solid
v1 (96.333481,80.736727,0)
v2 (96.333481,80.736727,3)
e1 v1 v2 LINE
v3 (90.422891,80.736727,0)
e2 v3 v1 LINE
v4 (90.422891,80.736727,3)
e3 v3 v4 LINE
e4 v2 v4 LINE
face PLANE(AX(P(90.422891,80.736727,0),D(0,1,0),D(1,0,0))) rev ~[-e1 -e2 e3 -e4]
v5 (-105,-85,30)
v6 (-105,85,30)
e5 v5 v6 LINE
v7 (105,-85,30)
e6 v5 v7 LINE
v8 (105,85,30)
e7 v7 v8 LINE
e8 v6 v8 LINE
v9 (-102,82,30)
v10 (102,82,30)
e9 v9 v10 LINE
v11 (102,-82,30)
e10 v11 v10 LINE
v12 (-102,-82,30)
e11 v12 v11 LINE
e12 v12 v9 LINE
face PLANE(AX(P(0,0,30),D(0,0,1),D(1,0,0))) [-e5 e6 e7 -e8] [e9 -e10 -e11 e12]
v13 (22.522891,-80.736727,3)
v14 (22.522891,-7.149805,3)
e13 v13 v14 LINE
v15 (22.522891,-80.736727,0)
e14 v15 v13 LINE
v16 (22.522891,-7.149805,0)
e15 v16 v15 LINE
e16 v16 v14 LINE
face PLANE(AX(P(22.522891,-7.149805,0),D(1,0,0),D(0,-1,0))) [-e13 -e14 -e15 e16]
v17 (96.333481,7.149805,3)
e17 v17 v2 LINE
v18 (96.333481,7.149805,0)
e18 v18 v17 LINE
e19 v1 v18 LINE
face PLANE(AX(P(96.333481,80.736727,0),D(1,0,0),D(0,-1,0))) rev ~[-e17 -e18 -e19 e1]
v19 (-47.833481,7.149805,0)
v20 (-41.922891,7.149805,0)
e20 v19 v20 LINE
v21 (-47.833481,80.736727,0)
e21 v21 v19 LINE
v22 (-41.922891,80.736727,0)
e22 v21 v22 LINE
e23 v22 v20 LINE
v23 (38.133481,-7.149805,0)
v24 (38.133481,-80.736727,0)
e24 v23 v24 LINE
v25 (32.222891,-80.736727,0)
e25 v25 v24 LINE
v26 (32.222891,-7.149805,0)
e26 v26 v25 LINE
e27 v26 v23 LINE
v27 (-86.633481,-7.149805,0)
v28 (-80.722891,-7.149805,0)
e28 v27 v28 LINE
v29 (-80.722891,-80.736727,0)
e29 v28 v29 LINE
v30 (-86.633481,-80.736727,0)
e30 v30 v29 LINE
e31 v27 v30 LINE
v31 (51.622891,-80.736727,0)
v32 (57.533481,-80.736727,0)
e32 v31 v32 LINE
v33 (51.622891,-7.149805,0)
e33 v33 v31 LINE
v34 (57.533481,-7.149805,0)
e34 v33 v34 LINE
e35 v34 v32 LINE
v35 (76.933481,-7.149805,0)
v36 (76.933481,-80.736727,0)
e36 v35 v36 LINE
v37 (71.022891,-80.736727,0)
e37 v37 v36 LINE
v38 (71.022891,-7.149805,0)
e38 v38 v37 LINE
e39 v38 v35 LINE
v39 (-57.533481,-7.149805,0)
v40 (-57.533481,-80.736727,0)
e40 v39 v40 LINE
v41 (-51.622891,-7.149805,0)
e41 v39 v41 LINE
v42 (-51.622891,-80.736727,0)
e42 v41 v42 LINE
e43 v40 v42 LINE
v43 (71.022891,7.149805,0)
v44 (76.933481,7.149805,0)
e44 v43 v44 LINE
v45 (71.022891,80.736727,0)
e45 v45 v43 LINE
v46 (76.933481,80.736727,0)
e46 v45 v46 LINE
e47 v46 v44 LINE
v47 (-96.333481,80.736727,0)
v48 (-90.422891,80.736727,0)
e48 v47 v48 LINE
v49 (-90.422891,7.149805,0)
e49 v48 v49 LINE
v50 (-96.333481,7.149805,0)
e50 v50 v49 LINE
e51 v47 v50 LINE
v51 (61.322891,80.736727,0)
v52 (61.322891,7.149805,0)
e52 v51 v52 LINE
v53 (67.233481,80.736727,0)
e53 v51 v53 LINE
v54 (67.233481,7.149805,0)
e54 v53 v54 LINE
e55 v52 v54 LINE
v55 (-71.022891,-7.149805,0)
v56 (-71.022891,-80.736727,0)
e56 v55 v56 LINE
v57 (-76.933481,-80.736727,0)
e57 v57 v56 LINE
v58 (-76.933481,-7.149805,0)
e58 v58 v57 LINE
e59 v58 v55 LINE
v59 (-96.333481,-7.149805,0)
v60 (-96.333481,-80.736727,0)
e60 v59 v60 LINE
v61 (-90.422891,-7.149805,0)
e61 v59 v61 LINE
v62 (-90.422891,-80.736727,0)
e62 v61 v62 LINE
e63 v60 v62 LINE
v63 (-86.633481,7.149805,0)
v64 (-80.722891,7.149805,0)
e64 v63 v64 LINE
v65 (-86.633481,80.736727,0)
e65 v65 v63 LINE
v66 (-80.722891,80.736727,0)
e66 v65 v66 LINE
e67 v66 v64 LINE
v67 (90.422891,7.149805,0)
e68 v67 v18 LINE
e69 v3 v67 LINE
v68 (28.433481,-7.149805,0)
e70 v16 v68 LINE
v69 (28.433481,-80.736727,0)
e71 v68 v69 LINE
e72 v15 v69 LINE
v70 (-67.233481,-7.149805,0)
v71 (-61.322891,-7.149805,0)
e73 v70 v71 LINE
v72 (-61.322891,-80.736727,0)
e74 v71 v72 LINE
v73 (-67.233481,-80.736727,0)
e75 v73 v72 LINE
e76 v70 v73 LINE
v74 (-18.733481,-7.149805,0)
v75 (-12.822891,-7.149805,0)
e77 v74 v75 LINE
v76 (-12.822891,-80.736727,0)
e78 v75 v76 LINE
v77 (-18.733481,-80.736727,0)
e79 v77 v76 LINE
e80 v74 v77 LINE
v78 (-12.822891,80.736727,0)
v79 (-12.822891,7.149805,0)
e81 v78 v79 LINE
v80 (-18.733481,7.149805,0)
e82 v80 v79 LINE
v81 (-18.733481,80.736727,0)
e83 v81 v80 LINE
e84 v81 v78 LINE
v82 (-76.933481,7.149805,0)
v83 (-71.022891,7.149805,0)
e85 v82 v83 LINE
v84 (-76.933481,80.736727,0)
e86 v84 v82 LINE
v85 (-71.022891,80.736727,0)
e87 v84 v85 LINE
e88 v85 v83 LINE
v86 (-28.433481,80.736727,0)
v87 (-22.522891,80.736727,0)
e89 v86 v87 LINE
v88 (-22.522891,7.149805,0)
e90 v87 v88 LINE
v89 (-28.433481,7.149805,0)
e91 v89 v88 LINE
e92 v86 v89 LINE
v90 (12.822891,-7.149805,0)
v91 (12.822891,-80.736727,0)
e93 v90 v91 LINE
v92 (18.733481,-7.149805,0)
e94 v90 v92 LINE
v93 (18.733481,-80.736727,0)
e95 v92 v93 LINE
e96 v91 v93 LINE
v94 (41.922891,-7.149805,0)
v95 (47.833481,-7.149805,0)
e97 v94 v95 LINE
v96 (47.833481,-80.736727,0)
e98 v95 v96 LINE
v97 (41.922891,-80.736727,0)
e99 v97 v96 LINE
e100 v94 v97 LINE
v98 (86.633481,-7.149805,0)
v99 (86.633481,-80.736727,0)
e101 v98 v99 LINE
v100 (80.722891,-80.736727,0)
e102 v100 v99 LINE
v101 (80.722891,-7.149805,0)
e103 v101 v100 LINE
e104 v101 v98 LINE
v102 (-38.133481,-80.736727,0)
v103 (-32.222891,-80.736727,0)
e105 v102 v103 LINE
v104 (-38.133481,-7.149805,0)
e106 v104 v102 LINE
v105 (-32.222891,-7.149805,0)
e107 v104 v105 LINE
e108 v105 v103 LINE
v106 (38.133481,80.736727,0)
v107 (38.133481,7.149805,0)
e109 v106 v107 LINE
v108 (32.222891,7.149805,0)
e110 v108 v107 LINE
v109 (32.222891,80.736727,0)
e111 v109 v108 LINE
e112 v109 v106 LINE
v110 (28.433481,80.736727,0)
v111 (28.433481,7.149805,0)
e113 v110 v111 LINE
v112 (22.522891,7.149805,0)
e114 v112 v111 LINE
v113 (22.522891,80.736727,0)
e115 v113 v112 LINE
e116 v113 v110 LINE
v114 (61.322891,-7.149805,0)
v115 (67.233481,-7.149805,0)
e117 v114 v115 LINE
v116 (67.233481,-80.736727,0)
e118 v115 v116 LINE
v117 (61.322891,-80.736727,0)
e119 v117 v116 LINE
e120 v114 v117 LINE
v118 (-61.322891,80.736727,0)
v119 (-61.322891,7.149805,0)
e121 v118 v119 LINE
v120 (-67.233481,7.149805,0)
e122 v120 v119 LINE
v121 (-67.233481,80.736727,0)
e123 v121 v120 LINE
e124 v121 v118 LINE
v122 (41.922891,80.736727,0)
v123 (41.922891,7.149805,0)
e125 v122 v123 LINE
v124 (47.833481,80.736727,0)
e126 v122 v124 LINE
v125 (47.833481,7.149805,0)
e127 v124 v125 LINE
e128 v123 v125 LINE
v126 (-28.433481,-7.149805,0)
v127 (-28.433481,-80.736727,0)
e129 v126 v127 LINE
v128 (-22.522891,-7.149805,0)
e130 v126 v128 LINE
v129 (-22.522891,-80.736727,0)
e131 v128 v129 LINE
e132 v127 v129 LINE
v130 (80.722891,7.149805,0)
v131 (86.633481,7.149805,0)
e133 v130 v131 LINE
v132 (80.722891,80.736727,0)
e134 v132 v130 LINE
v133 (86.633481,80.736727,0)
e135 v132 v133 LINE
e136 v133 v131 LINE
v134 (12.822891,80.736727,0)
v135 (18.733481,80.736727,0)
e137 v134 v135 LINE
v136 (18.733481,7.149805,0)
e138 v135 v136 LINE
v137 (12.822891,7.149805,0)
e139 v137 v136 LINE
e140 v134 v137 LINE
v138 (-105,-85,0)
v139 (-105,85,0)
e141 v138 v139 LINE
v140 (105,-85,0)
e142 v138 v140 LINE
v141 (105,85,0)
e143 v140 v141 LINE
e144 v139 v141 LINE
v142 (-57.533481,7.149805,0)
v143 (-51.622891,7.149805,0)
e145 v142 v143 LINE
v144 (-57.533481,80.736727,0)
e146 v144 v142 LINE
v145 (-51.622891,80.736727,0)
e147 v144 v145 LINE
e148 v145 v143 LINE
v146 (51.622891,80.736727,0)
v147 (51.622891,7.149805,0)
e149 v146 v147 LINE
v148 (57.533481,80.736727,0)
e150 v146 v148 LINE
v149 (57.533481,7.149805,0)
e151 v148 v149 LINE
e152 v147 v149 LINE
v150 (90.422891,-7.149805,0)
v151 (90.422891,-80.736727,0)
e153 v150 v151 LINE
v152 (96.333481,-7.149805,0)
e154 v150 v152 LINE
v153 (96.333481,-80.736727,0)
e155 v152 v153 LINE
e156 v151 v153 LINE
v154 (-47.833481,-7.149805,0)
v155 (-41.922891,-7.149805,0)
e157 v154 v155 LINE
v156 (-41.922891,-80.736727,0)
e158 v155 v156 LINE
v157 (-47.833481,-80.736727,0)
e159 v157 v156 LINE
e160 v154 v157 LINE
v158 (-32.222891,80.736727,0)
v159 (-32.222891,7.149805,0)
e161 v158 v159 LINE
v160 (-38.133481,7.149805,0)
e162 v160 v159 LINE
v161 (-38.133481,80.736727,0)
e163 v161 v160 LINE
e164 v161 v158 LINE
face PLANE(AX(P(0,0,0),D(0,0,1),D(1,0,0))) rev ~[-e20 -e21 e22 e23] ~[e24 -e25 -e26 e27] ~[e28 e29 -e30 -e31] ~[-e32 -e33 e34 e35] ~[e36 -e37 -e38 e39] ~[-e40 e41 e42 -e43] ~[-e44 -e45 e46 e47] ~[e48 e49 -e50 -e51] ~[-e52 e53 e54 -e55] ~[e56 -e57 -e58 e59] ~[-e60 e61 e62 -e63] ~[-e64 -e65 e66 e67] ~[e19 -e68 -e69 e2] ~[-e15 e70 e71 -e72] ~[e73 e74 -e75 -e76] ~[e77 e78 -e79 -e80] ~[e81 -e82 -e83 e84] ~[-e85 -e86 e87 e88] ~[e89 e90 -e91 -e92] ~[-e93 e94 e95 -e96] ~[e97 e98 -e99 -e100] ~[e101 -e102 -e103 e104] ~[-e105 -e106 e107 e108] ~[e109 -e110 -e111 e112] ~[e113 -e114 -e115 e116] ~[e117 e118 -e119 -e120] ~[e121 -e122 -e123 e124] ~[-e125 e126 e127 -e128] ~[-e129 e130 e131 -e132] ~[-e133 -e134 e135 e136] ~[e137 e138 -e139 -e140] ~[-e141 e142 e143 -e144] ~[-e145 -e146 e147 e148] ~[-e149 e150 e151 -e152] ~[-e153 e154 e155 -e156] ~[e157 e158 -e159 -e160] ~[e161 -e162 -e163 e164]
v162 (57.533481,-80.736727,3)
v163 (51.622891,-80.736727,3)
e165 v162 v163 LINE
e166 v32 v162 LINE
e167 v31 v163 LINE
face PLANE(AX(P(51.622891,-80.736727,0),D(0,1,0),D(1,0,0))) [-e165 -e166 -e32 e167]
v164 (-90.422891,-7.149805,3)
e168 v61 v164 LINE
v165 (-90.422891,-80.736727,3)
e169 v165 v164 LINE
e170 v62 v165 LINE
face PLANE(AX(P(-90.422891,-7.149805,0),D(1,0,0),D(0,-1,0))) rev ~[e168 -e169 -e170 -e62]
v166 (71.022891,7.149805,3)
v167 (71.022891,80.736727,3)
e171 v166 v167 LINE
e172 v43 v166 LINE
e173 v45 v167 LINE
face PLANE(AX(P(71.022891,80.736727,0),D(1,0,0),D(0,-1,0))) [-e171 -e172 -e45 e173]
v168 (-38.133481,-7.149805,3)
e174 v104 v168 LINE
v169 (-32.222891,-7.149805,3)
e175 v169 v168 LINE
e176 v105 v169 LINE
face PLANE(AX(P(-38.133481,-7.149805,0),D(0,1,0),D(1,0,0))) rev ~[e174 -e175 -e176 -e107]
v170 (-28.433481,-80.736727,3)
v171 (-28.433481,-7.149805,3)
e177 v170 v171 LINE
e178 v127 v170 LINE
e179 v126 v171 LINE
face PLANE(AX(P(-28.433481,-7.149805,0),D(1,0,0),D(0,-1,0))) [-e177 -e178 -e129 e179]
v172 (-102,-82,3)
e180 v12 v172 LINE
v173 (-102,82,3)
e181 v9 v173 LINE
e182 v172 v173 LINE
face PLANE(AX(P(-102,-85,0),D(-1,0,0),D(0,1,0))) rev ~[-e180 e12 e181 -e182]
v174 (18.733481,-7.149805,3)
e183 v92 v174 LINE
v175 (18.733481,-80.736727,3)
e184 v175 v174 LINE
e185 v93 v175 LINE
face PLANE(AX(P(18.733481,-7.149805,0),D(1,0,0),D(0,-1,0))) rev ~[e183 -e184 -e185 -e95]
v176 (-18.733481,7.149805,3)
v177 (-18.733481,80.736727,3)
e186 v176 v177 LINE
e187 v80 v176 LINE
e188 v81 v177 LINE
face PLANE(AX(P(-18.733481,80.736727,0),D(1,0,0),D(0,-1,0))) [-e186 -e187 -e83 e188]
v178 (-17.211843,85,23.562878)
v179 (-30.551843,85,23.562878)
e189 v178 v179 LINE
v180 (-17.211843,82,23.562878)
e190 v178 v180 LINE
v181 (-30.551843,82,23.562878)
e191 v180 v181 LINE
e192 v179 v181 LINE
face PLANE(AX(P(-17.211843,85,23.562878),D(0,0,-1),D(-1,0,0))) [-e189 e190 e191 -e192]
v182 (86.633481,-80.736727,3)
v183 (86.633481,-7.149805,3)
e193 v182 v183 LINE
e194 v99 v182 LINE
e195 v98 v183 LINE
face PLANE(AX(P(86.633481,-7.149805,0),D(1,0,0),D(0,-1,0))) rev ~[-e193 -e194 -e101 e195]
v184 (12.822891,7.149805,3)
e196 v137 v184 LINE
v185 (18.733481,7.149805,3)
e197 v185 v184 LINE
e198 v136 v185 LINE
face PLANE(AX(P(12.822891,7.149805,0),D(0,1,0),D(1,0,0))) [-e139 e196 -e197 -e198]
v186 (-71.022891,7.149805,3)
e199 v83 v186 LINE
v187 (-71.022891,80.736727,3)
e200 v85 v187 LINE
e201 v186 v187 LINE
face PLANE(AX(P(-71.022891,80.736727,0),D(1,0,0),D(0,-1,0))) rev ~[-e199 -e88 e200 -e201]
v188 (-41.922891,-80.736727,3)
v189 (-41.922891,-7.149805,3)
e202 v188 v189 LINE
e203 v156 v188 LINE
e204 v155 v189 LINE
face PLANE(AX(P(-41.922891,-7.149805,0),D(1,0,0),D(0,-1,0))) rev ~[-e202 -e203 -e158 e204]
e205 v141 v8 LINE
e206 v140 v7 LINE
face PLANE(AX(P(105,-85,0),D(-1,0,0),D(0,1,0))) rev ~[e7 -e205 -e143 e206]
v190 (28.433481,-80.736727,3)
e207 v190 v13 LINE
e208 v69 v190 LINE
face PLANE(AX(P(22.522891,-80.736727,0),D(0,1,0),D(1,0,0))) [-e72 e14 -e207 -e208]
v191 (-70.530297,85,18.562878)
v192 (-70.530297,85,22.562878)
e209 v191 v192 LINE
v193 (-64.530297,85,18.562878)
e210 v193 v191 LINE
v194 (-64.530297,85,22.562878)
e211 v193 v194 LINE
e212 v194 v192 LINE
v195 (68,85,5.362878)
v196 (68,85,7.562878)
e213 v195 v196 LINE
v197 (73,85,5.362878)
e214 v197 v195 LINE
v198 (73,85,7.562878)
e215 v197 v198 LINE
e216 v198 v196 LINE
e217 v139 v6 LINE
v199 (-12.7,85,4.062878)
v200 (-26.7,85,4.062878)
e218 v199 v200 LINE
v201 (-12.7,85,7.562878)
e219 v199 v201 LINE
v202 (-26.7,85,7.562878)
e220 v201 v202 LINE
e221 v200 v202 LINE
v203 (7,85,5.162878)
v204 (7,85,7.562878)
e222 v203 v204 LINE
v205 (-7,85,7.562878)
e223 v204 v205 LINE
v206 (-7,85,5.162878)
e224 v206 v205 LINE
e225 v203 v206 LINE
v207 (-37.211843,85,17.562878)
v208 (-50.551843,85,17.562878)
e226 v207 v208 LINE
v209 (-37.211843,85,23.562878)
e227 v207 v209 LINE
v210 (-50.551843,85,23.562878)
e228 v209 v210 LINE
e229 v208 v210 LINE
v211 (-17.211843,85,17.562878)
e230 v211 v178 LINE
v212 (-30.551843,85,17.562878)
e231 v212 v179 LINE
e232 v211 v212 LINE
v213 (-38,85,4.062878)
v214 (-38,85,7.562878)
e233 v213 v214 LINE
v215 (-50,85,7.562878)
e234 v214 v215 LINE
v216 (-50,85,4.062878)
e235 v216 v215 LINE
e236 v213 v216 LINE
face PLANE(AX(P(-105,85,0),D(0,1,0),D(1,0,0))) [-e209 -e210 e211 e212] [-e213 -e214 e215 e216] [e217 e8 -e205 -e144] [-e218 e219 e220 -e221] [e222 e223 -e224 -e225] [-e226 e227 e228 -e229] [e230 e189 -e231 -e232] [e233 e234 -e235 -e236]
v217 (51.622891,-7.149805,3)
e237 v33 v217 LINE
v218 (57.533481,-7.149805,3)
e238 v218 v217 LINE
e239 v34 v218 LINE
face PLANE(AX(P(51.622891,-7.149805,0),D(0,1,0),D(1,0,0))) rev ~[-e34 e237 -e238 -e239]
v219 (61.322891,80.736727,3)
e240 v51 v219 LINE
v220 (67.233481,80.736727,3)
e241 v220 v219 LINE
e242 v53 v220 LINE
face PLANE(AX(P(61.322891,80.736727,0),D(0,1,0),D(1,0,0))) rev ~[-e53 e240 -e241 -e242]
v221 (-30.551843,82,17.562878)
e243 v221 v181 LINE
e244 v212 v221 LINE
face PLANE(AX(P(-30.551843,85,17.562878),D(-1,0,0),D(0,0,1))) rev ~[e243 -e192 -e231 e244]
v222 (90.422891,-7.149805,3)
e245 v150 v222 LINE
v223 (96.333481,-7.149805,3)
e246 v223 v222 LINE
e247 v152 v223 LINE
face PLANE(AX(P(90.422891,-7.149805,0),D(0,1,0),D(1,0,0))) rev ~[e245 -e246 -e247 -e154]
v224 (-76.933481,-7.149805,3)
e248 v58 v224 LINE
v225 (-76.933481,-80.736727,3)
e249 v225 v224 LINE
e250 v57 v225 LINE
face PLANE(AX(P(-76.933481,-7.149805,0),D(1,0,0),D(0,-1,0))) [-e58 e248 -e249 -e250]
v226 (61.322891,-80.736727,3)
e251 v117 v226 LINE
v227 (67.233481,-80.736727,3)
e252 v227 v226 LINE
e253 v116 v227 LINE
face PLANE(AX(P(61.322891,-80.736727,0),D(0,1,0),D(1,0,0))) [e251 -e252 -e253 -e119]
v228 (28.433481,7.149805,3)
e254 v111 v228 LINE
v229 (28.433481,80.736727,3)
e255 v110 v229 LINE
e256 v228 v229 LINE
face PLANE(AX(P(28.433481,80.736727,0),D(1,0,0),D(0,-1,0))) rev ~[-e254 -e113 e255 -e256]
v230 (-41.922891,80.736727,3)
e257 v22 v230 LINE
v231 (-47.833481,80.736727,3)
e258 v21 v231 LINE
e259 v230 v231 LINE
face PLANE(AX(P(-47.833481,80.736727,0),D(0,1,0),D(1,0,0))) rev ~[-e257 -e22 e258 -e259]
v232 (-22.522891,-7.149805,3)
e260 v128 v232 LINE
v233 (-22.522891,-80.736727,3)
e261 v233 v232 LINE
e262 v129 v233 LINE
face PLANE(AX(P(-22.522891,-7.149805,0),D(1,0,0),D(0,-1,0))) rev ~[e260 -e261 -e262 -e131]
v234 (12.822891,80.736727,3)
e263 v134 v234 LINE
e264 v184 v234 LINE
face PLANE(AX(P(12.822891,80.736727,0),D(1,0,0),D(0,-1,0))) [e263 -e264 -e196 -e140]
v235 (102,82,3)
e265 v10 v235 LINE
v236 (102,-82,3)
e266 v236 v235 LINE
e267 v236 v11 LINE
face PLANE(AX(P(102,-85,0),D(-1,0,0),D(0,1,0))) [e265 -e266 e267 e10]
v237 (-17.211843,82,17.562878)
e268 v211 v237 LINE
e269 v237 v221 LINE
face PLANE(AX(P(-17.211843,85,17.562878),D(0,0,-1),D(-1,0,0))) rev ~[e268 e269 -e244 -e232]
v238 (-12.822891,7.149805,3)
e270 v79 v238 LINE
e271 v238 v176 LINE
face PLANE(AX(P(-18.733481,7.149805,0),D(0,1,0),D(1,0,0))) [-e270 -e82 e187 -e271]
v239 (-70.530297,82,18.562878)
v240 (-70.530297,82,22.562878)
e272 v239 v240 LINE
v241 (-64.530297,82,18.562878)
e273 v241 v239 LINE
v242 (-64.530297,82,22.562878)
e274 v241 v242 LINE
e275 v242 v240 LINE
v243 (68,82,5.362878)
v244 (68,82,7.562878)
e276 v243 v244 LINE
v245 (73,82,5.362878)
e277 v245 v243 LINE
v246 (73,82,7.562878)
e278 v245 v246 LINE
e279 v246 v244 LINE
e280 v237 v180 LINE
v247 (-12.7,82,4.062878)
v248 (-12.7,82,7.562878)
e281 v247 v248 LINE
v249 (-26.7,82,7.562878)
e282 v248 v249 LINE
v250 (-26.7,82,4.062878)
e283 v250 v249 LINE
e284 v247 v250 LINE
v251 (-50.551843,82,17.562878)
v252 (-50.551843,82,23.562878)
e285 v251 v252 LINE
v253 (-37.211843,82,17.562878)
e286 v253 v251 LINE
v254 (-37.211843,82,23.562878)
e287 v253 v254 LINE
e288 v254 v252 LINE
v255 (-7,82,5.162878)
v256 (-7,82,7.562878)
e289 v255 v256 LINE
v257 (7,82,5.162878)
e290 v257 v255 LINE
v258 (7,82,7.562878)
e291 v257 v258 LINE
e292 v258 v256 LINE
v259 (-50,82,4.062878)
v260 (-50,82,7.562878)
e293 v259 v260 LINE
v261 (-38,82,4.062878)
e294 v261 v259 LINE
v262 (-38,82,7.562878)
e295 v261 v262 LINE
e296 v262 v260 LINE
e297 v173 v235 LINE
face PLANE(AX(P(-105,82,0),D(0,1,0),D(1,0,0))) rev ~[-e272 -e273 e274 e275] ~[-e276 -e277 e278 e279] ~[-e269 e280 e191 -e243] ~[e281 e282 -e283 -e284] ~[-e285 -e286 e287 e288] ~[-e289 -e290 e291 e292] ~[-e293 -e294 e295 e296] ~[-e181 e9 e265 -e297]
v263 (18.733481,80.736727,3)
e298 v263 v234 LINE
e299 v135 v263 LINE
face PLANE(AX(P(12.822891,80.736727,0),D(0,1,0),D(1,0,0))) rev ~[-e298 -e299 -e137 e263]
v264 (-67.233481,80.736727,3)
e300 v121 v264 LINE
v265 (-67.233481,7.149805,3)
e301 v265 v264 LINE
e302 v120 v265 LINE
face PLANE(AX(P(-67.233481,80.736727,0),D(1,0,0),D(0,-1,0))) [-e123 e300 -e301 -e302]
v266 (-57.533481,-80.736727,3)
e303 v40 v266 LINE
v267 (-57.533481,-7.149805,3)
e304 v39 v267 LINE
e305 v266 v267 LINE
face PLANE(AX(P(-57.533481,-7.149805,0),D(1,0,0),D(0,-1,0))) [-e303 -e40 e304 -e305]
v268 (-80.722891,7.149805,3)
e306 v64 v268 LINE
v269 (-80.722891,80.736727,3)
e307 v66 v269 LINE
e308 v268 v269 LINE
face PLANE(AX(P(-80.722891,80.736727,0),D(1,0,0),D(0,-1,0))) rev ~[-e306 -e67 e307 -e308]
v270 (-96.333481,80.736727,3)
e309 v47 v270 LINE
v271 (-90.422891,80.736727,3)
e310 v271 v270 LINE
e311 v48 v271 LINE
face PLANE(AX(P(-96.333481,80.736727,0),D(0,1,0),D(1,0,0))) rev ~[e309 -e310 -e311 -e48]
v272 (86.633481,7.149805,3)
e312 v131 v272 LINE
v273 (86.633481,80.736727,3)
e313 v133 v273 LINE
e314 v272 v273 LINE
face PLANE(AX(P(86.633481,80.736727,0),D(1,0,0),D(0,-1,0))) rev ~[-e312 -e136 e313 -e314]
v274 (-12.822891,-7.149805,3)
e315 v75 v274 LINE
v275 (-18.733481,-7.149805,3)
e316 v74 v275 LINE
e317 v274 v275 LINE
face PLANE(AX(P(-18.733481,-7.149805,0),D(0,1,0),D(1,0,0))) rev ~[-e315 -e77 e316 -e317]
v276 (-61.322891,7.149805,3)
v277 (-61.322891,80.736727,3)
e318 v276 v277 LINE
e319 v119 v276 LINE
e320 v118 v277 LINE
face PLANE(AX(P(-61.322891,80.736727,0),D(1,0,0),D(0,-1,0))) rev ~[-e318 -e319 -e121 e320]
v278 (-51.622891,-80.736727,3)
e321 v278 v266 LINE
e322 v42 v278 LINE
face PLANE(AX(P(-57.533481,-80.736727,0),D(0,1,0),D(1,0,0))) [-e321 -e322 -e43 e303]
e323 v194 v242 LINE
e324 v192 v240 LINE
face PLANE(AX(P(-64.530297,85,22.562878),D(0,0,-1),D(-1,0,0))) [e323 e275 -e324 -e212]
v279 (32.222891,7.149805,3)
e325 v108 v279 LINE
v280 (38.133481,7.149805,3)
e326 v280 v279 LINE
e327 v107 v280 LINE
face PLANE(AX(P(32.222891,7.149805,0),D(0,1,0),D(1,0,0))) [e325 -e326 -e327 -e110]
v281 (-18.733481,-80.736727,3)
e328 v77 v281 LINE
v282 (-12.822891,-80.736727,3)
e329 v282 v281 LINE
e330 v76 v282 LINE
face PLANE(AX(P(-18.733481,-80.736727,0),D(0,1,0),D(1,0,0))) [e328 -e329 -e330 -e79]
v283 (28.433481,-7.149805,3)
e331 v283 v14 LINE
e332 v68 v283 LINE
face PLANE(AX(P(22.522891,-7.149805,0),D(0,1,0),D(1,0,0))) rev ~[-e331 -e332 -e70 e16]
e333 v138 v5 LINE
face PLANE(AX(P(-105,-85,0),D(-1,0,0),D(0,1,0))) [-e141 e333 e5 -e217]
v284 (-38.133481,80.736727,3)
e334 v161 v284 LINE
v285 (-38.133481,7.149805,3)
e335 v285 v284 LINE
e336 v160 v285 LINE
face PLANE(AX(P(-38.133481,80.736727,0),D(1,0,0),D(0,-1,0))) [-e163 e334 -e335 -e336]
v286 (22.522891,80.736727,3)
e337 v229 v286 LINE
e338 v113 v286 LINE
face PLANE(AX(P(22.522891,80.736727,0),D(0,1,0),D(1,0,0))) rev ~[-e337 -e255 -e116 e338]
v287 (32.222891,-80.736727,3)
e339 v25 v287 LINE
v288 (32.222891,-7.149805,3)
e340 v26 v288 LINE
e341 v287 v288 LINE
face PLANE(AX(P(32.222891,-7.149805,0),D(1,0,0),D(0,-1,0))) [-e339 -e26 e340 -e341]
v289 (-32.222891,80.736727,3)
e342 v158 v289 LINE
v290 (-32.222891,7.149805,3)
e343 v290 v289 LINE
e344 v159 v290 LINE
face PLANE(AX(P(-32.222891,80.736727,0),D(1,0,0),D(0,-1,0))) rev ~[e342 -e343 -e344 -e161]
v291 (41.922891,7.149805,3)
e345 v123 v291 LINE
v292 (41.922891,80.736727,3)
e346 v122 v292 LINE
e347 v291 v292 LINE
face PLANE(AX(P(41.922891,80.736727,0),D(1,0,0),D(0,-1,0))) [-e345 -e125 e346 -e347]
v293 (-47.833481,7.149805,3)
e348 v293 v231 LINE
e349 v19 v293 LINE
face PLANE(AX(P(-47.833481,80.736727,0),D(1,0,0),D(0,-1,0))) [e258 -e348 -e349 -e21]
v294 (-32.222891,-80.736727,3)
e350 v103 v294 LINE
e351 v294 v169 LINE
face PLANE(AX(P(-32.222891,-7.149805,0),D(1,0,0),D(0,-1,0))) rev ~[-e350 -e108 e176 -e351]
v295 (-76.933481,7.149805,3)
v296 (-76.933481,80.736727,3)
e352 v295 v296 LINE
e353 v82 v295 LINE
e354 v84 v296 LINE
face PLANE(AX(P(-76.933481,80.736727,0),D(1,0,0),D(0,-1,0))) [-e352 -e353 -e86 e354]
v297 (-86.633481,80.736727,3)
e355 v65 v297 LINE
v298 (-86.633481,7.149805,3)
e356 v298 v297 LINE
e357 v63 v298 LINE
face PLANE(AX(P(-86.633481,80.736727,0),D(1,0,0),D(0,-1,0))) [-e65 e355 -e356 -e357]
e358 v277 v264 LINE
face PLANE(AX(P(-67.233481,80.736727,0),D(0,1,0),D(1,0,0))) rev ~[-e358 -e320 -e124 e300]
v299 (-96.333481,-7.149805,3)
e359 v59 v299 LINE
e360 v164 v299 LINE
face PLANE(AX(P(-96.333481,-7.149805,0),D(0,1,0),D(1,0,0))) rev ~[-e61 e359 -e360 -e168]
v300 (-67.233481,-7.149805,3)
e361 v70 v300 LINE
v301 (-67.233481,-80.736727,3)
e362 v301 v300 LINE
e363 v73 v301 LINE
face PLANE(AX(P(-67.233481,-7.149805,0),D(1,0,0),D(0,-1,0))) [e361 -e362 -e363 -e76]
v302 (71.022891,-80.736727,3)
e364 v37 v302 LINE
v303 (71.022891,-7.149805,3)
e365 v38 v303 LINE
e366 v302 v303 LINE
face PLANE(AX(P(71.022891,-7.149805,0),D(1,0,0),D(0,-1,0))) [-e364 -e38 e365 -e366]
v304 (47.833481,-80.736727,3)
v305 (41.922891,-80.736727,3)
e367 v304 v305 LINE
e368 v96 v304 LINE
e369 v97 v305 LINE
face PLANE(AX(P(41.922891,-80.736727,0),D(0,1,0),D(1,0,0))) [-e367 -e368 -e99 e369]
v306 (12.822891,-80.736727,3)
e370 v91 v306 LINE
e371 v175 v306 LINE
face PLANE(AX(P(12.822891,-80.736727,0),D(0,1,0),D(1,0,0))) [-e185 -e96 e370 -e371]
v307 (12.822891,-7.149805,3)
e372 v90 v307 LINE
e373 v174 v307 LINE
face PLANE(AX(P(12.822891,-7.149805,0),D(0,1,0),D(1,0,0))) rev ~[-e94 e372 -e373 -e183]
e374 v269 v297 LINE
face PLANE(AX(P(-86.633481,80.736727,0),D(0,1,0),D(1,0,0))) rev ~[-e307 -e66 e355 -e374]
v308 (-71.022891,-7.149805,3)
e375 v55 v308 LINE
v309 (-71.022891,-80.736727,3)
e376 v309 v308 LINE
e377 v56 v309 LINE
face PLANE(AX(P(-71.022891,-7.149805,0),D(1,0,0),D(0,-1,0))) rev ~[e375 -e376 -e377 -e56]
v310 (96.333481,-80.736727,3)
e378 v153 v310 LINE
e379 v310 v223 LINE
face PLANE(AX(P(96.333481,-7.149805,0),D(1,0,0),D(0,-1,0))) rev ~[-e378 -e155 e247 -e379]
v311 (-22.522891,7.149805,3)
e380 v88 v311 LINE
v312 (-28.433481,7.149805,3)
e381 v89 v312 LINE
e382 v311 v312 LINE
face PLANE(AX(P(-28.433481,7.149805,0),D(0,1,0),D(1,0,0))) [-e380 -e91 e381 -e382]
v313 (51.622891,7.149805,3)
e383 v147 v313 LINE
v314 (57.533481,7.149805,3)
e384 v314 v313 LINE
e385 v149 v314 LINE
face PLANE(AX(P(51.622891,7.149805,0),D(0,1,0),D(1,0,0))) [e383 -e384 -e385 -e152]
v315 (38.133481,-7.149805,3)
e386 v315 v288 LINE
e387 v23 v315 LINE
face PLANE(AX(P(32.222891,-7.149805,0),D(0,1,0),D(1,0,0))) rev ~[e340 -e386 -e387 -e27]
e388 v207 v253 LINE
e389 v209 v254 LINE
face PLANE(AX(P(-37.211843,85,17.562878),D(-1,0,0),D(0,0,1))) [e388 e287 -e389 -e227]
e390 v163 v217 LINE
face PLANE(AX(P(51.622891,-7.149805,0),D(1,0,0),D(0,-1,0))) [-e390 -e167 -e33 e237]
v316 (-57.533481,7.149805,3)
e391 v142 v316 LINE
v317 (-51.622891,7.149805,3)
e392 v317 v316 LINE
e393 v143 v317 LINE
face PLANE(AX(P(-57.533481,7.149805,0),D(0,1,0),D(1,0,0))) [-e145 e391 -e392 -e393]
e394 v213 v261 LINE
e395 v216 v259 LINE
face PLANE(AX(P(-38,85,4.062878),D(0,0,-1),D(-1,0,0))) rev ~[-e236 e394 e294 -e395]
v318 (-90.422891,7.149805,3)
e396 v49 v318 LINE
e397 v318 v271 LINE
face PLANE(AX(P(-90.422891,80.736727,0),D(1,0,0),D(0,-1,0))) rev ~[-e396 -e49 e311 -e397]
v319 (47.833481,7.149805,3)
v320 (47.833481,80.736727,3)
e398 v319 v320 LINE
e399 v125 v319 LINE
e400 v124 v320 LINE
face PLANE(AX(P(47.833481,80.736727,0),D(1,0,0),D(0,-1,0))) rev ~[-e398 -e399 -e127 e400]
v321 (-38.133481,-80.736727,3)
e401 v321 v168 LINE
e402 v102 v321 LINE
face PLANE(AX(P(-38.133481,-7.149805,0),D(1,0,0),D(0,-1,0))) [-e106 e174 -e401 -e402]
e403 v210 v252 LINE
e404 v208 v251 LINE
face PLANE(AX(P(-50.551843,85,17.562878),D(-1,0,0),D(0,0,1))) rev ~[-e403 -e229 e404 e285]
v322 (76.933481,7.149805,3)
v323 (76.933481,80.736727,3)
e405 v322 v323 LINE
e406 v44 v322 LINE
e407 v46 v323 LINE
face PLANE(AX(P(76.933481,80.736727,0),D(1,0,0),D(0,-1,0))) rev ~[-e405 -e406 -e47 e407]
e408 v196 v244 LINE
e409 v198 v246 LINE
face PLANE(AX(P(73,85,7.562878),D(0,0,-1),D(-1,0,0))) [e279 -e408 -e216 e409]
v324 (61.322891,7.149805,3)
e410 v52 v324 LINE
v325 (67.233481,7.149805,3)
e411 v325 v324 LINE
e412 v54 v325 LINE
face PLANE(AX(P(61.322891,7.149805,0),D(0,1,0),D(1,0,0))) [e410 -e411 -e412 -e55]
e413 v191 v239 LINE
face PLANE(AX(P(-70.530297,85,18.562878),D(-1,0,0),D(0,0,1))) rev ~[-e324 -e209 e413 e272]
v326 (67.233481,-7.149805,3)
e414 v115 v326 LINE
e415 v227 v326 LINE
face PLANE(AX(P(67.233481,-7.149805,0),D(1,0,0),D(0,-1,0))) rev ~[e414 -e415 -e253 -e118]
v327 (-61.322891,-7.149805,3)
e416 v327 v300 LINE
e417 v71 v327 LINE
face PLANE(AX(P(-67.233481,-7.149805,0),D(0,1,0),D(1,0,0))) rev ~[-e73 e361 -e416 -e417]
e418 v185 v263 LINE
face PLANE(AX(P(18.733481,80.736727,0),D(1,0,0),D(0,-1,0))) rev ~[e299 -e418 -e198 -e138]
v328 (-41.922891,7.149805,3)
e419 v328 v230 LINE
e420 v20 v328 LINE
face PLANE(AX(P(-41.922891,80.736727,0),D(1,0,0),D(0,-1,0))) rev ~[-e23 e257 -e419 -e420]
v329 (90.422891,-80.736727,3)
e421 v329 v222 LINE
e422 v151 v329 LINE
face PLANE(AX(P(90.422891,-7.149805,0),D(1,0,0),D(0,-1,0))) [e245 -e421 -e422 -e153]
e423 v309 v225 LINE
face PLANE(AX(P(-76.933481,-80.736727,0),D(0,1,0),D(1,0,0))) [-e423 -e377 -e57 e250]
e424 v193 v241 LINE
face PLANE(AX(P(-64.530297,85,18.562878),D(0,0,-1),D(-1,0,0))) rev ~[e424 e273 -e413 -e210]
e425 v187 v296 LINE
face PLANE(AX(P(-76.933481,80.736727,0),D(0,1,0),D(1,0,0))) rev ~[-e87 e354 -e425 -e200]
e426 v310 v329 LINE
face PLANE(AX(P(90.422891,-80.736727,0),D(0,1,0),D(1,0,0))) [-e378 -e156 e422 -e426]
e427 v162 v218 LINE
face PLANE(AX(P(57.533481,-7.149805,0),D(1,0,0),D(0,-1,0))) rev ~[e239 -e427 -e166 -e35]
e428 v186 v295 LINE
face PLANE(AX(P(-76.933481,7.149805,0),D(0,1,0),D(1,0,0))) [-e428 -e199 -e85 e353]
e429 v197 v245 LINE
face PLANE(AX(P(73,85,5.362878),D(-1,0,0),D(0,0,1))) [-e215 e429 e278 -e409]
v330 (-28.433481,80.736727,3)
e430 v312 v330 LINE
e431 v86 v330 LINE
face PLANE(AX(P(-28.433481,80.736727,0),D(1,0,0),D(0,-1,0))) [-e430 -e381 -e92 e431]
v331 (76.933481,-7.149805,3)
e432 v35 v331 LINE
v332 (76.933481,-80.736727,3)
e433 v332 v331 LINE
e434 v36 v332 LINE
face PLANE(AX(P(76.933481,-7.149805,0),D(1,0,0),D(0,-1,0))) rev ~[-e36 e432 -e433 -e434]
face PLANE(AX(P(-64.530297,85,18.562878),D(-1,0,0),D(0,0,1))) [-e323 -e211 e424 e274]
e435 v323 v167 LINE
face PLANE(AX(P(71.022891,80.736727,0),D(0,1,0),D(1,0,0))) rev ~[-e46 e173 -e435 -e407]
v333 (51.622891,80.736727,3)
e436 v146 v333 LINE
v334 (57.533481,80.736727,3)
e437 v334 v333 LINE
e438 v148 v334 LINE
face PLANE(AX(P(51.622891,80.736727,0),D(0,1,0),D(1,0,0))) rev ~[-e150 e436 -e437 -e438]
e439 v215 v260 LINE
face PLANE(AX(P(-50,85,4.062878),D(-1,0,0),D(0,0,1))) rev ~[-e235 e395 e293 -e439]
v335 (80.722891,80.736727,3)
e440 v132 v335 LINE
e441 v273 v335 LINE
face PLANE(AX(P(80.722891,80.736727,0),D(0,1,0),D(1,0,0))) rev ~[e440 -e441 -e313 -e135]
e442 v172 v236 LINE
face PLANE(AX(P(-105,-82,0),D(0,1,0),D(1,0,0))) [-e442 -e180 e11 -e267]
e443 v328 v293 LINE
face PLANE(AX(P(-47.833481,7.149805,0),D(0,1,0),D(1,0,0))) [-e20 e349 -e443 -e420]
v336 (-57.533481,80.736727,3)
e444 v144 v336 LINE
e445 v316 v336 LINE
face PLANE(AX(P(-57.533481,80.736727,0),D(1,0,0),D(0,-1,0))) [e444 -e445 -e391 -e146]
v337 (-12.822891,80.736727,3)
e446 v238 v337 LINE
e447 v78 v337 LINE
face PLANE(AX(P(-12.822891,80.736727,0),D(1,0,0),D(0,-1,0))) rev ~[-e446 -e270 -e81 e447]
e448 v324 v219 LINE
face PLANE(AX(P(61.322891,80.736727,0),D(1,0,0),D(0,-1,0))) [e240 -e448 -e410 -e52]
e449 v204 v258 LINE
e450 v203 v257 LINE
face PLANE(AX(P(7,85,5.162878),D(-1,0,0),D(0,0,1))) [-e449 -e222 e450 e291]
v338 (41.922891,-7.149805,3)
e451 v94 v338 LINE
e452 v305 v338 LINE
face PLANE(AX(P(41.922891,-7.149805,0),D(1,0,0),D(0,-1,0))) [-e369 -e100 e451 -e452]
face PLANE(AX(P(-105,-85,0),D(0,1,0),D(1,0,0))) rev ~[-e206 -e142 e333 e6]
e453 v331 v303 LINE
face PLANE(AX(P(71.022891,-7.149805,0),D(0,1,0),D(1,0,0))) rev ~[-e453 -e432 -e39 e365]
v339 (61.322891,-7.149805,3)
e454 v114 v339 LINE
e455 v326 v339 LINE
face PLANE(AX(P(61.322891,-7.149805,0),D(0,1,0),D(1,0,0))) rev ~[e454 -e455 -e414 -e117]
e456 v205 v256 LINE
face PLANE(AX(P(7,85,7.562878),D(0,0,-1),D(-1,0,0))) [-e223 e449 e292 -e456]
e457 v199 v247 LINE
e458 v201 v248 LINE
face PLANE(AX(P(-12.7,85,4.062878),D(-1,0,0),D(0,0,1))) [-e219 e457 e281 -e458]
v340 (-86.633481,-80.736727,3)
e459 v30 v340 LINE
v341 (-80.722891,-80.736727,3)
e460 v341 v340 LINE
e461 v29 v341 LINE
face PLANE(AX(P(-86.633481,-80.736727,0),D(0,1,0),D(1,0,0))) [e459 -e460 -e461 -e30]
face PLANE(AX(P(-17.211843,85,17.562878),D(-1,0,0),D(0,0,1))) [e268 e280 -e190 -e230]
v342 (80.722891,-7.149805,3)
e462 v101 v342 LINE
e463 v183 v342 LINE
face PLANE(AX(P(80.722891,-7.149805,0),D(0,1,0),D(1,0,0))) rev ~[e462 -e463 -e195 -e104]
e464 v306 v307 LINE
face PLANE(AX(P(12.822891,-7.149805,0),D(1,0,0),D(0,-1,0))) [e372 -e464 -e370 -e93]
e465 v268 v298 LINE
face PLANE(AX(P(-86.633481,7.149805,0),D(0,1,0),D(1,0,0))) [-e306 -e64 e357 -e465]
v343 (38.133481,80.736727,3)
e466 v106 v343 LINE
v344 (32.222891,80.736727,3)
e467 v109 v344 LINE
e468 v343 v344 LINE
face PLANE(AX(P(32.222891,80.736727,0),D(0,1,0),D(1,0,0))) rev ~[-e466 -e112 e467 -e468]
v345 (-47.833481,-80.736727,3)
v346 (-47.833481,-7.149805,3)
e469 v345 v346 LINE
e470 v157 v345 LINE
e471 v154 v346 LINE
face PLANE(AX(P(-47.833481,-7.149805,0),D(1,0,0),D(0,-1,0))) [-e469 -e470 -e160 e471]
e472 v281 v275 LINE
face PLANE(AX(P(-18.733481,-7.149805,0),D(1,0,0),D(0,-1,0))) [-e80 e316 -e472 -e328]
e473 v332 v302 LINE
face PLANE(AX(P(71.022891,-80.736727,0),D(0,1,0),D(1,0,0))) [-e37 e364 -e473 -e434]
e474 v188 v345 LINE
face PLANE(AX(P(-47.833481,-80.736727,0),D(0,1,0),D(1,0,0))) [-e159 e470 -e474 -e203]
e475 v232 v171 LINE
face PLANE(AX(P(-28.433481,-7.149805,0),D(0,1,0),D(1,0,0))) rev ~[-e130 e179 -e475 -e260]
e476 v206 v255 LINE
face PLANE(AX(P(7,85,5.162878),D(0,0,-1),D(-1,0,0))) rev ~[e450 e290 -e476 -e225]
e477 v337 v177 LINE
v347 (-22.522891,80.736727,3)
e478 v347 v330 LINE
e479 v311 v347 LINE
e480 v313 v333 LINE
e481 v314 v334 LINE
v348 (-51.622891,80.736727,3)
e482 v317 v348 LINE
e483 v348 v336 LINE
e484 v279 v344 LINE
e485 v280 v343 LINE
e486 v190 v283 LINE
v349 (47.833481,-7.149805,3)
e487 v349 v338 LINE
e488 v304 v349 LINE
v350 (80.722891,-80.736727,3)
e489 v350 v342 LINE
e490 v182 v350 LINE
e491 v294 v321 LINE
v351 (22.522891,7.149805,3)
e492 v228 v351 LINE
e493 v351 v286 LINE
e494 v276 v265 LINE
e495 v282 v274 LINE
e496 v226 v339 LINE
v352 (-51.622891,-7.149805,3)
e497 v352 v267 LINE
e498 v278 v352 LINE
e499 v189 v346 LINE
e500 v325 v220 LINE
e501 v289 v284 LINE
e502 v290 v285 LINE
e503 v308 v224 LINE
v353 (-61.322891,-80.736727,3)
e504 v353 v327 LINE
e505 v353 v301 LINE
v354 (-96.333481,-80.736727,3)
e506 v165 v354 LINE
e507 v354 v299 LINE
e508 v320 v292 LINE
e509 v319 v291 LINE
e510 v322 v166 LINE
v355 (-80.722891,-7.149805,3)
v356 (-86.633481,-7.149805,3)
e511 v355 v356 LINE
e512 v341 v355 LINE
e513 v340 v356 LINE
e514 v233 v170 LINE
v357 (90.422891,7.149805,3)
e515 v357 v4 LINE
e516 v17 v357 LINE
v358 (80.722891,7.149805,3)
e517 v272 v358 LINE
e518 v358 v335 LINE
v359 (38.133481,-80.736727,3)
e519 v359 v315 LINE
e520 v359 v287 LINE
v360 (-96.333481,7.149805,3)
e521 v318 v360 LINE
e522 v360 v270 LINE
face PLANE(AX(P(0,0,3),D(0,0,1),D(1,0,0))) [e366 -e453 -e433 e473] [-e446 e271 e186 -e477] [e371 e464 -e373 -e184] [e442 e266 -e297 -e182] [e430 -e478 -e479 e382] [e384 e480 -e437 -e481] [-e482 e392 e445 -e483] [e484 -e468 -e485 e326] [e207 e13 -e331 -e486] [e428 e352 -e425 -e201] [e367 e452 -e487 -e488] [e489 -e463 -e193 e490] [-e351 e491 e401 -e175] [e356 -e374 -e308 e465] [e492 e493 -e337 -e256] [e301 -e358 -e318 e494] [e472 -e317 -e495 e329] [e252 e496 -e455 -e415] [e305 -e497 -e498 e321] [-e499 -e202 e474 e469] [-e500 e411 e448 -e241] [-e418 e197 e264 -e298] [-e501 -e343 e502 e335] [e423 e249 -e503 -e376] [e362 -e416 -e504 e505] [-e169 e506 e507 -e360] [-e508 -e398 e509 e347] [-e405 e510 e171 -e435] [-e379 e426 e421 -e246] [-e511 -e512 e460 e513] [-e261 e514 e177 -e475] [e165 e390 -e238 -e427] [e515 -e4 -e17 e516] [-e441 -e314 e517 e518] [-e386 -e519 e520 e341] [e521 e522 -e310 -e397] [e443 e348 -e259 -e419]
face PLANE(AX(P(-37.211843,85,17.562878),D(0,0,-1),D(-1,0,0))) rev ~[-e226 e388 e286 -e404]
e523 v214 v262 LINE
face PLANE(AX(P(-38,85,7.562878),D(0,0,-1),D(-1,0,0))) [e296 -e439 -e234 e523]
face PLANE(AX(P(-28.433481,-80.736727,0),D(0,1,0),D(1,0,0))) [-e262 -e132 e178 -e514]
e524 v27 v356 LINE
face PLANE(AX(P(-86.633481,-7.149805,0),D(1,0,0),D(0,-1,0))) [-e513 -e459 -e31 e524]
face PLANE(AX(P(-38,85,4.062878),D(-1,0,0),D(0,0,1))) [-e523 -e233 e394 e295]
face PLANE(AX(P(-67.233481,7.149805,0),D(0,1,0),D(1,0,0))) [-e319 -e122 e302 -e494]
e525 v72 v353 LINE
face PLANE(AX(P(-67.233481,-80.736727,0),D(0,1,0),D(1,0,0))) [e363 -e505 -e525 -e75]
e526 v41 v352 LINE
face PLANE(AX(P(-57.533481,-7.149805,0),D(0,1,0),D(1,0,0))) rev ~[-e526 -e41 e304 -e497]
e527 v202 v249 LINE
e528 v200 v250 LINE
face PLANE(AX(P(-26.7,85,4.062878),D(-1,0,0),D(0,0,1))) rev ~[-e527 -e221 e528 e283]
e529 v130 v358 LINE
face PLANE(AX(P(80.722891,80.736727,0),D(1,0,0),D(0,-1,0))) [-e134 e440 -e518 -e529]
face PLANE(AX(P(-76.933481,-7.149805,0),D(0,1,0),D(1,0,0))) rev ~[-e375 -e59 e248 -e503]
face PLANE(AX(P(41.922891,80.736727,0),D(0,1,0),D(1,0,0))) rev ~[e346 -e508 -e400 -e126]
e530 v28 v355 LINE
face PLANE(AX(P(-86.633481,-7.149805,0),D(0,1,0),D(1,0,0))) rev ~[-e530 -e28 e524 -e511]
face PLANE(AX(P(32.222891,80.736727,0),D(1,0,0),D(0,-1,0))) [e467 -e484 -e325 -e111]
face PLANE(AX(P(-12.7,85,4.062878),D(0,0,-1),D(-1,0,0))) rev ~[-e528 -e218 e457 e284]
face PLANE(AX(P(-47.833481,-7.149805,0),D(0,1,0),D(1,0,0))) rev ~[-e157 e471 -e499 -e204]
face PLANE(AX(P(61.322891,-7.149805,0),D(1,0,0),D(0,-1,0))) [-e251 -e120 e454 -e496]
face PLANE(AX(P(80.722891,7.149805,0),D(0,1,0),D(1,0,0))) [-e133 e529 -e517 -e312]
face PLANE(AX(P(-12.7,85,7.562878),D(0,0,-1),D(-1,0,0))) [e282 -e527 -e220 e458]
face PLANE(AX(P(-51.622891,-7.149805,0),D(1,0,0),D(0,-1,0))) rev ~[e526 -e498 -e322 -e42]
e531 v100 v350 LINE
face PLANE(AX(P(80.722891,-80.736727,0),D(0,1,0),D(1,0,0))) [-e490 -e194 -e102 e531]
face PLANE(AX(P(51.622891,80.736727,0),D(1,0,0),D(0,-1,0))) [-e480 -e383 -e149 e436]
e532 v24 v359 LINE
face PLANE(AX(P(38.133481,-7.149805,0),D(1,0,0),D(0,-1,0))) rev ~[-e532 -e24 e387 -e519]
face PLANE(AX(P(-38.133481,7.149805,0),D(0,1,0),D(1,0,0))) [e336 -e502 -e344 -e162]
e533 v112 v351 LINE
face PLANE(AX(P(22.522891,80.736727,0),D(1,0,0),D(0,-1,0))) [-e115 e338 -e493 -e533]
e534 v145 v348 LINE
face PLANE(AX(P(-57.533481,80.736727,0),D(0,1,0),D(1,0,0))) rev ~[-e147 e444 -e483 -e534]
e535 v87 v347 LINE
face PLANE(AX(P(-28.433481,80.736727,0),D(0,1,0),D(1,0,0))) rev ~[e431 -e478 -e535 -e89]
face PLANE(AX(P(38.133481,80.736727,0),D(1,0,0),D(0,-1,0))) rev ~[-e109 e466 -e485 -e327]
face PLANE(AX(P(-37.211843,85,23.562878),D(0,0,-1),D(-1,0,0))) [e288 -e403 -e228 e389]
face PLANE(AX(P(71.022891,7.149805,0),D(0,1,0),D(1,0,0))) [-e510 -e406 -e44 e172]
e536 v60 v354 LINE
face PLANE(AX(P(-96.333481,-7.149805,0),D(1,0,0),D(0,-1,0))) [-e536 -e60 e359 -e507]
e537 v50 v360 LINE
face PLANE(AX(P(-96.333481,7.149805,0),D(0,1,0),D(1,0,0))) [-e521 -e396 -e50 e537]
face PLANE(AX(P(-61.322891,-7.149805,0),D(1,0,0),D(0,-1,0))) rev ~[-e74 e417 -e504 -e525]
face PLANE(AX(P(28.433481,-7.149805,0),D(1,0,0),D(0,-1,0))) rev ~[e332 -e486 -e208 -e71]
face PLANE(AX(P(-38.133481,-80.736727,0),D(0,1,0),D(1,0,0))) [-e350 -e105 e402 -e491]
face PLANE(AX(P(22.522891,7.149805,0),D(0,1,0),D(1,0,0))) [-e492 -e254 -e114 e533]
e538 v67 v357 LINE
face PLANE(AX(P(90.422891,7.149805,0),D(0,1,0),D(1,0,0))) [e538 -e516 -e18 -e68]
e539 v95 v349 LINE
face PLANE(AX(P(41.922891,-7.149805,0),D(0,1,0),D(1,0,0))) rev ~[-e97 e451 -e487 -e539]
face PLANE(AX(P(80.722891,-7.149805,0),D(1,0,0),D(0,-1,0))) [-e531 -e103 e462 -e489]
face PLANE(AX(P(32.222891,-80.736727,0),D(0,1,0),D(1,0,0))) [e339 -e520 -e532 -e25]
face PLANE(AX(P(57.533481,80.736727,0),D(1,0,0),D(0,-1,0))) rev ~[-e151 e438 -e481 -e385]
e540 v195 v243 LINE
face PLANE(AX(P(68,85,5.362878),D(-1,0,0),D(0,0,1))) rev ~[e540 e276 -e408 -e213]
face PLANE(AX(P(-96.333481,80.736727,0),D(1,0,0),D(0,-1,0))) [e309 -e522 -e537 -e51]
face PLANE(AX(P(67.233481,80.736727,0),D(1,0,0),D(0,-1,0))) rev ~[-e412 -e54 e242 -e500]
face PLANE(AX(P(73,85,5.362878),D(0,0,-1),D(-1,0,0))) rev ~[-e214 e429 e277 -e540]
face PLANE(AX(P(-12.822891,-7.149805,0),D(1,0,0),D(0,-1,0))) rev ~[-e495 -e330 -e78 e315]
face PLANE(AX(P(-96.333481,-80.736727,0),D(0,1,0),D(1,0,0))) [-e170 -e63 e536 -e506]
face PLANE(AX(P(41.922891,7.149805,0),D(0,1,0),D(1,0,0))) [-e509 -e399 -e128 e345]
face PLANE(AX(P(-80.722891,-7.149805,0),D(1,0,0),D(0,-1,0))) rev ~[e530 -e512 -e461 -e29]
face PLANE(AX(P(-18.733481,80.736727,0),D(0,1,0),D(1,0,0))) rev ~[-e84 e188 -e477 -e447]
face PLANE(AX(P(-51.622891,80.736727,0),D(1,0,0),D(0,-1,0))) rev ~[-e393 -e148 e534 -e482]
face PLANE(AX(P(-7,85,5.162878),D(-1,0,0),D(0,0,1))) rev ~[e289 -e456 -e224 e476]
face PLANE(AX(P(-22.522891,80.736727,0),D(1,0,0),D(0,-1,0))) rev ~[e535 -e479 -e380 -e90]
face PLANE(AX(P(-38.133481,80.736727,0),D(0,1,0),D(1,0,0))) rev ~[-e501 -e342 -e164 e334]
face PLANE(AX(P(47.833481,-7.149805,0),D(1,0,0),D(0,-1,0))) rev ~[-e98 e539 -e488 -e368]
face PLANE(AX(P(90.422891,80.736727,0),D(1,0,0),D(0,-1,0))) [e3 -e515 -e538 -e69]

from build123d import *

# Parameters (mm, degrees)
F0_W     = 210
F0_H     = 170
F1_DEPTH = 30
F2_T     = -3
F3_W     = 12
F3_H     = 3.5
F3_W_2   = 14
F3_H_2   = 2.4
F3_W_3   = 5
F3_H_3   = 2.2
F3_W_4   = 13.34
F3_H_4   = 6
F3_W_5   = 6
F3_H_5   = 4
F4_DEPTH = 25
F5_W     = 5.91059
F5_H     = 73.586922
F6_DEPTH = 25


with BuildPart() as f1:
    # F0 (on Top) → F1 (new body)
    with BuildSketch(Plane.XY):
        Rectangle(F0_W, F0_H)
    extrude(amount=F1_DEPTH)

    # F2
    f2_openings = [f1.faces().sort_by_distance(p)[0] for p in [
        (0, 0, 30),
    ]]
    offset(amount=F2_T, openings=f2_openings)

    # F3 (on face) → F4 (cut)
    with BuildSketch(Plane(origin=(0, 85, 0), x_dir=(-1, 0, 0), z_dir=(0, 1, 0))):
        with Locations((44, 5.812878)):
            Rectangle(F3_W, F3_H)
        with Locations((19.7, 5.812878)):
            Rectangle(F3_W_2, F3_H)
        with Locations((0, 6.362878)):
            Rectangle(F3_W_2, F3_H_2)
        with Locations((-70.5, 6.462878)):
            Rectangle(F3_W_3, F3_H_3)
        with Locations((43.881843, 20.562878)):
            Rectangle(F3_W_4, F3_H_4)
        with Locations((23.881843, 20.562878)):
            Rectangle(F3_W_4, F3_H_4)
        with Locations((67.530297, 20.562878)):
            Rectangle(F3_W_5, F3_H_5)
    extrude(amount=-F4_DEPTH, mode=Mode.SUBTRACT)

    # F5 (on face) → F6 (cut)
    with BuildSketch(Plane(origin=(0, 0, 0), x_dir=(1, 0, 0), z_dir=(0, 0, -1))):
        with Locations((-93.378186, 43.943266)):
            Rectangle(F5_W, F5_H)
        with Locations((-93.378186, -43.943266)):
            Rectangle(F5_W, F5_H)
        with Locations((-83.678186, 43.943266)):
            Rectangle(F5_W, F5_H)
        with Locations((-83.678186, -43.943266)):
            Rectangle(F5_W, F5_H)
        with Locations((-73.978186, 43.943266)):
            Rectangle(F5_W, F5_H)
        with Locations((-73.978186, -43.943266)):
            Rectangle(F5_W, F5_H)
        with Locations((-64.278186, 43.943266)):
            Rectangle(F5_W, F5_H)
        with Locations((-64.278186, -43.943266)):
            Rectangle(F5_W, F5_H)
        with Locations((-54.578186, 43.943266)):
            Rectangle(F5_W, F5_H)
        with Locations((-54.578186, -43.943266)):
            Rectangle(F5_W, F5_H)
        with Locations((-44.878186, 43.943266)):
            Rectangle(F5_W, F5_H)
        with Locations((-44.878186, -43.943266)):
            Rectangle(F5_W, F5_H)
        with Locations((-35.178186, 43.943266)):
            Rectangle(F5_W, F5_H)
        with Locations((-35.178186, -43.943266)):
            Rectangle(F5_W, F5_H)
        with Locations((-25.478186, 43.943266)):
            Rectangle(F5_W, F5_H)
        with Locations((-25.478186, -43.943266)):
            Rectangle(F5_W, F5_H)
        with Locations((-15.778186, 43.943266)):
            Rectangle(F5_W, F5_H)
        with Locations((-15.778186, -43.943266)):
            Rectangle(F5_W, F5_H)
        with Locations((93.378186, 43.943266)):
            Rectangle(F5_W, F5_H)
        with Locations((83.678186, 43.943266)):
            Rectangle(F5_W, F5_H)
        with Locations((73.978186, 43.943266)):
            Rectangle(F5_W, F5_H)
        with Locations((64.278186, 43.943266)):
            Rectangle(F5_W, F5_H)
        with Locations((54.578186, 43.943266)):
            Rectangle(F5_W, F5_H)
        with Locations((44.878186, 43.943266)):
            Rectangle(F5_W, F5_H)
        with Locations((35.178186, 43.943266)):
            Rectangle(F5_W, F5_H)
        with Locations((25.478186, 43.943266)):
            Rectangle(F5_W, F5_H)
        with Locations((15.778186, 43.943266)):
            Rectangle(F5_W, F5_H)
        with Locations((93.378186, -43.943266)):
            Rectangle(F5_W, F5_H)
        with Locations((83.678186, -43.943266)):
            Rectangle(F5_W, F5_H)
        with Locations((73.978186, -43.943266)):
            Rectangle(F5_W, F5_H)
        with Locations((64.278186, -43.943266)):
            Rectangle(F5_W, F5_H)
        with Locations((54.578186, -43.943266)):
            Rectangle(F5_W, F5_H)
        with Locations((44.878186, -43.943266)):
            Rectangle(F5_W, F5_H)
        with Locations((35.178186, -43.943266)):
            Rectangle(F5_W, F5_H)
        with Locations((25.478186, -43.943266)):
            Rectangle(F5_W, F5_H)
        with Locations((15.778186, -43.943266)):
            Rectangle(F5_W, F5_H)
    extrude(amount=-F6_DEPTH, mode=Mode.SUBTRACT)


solid = f1.part
